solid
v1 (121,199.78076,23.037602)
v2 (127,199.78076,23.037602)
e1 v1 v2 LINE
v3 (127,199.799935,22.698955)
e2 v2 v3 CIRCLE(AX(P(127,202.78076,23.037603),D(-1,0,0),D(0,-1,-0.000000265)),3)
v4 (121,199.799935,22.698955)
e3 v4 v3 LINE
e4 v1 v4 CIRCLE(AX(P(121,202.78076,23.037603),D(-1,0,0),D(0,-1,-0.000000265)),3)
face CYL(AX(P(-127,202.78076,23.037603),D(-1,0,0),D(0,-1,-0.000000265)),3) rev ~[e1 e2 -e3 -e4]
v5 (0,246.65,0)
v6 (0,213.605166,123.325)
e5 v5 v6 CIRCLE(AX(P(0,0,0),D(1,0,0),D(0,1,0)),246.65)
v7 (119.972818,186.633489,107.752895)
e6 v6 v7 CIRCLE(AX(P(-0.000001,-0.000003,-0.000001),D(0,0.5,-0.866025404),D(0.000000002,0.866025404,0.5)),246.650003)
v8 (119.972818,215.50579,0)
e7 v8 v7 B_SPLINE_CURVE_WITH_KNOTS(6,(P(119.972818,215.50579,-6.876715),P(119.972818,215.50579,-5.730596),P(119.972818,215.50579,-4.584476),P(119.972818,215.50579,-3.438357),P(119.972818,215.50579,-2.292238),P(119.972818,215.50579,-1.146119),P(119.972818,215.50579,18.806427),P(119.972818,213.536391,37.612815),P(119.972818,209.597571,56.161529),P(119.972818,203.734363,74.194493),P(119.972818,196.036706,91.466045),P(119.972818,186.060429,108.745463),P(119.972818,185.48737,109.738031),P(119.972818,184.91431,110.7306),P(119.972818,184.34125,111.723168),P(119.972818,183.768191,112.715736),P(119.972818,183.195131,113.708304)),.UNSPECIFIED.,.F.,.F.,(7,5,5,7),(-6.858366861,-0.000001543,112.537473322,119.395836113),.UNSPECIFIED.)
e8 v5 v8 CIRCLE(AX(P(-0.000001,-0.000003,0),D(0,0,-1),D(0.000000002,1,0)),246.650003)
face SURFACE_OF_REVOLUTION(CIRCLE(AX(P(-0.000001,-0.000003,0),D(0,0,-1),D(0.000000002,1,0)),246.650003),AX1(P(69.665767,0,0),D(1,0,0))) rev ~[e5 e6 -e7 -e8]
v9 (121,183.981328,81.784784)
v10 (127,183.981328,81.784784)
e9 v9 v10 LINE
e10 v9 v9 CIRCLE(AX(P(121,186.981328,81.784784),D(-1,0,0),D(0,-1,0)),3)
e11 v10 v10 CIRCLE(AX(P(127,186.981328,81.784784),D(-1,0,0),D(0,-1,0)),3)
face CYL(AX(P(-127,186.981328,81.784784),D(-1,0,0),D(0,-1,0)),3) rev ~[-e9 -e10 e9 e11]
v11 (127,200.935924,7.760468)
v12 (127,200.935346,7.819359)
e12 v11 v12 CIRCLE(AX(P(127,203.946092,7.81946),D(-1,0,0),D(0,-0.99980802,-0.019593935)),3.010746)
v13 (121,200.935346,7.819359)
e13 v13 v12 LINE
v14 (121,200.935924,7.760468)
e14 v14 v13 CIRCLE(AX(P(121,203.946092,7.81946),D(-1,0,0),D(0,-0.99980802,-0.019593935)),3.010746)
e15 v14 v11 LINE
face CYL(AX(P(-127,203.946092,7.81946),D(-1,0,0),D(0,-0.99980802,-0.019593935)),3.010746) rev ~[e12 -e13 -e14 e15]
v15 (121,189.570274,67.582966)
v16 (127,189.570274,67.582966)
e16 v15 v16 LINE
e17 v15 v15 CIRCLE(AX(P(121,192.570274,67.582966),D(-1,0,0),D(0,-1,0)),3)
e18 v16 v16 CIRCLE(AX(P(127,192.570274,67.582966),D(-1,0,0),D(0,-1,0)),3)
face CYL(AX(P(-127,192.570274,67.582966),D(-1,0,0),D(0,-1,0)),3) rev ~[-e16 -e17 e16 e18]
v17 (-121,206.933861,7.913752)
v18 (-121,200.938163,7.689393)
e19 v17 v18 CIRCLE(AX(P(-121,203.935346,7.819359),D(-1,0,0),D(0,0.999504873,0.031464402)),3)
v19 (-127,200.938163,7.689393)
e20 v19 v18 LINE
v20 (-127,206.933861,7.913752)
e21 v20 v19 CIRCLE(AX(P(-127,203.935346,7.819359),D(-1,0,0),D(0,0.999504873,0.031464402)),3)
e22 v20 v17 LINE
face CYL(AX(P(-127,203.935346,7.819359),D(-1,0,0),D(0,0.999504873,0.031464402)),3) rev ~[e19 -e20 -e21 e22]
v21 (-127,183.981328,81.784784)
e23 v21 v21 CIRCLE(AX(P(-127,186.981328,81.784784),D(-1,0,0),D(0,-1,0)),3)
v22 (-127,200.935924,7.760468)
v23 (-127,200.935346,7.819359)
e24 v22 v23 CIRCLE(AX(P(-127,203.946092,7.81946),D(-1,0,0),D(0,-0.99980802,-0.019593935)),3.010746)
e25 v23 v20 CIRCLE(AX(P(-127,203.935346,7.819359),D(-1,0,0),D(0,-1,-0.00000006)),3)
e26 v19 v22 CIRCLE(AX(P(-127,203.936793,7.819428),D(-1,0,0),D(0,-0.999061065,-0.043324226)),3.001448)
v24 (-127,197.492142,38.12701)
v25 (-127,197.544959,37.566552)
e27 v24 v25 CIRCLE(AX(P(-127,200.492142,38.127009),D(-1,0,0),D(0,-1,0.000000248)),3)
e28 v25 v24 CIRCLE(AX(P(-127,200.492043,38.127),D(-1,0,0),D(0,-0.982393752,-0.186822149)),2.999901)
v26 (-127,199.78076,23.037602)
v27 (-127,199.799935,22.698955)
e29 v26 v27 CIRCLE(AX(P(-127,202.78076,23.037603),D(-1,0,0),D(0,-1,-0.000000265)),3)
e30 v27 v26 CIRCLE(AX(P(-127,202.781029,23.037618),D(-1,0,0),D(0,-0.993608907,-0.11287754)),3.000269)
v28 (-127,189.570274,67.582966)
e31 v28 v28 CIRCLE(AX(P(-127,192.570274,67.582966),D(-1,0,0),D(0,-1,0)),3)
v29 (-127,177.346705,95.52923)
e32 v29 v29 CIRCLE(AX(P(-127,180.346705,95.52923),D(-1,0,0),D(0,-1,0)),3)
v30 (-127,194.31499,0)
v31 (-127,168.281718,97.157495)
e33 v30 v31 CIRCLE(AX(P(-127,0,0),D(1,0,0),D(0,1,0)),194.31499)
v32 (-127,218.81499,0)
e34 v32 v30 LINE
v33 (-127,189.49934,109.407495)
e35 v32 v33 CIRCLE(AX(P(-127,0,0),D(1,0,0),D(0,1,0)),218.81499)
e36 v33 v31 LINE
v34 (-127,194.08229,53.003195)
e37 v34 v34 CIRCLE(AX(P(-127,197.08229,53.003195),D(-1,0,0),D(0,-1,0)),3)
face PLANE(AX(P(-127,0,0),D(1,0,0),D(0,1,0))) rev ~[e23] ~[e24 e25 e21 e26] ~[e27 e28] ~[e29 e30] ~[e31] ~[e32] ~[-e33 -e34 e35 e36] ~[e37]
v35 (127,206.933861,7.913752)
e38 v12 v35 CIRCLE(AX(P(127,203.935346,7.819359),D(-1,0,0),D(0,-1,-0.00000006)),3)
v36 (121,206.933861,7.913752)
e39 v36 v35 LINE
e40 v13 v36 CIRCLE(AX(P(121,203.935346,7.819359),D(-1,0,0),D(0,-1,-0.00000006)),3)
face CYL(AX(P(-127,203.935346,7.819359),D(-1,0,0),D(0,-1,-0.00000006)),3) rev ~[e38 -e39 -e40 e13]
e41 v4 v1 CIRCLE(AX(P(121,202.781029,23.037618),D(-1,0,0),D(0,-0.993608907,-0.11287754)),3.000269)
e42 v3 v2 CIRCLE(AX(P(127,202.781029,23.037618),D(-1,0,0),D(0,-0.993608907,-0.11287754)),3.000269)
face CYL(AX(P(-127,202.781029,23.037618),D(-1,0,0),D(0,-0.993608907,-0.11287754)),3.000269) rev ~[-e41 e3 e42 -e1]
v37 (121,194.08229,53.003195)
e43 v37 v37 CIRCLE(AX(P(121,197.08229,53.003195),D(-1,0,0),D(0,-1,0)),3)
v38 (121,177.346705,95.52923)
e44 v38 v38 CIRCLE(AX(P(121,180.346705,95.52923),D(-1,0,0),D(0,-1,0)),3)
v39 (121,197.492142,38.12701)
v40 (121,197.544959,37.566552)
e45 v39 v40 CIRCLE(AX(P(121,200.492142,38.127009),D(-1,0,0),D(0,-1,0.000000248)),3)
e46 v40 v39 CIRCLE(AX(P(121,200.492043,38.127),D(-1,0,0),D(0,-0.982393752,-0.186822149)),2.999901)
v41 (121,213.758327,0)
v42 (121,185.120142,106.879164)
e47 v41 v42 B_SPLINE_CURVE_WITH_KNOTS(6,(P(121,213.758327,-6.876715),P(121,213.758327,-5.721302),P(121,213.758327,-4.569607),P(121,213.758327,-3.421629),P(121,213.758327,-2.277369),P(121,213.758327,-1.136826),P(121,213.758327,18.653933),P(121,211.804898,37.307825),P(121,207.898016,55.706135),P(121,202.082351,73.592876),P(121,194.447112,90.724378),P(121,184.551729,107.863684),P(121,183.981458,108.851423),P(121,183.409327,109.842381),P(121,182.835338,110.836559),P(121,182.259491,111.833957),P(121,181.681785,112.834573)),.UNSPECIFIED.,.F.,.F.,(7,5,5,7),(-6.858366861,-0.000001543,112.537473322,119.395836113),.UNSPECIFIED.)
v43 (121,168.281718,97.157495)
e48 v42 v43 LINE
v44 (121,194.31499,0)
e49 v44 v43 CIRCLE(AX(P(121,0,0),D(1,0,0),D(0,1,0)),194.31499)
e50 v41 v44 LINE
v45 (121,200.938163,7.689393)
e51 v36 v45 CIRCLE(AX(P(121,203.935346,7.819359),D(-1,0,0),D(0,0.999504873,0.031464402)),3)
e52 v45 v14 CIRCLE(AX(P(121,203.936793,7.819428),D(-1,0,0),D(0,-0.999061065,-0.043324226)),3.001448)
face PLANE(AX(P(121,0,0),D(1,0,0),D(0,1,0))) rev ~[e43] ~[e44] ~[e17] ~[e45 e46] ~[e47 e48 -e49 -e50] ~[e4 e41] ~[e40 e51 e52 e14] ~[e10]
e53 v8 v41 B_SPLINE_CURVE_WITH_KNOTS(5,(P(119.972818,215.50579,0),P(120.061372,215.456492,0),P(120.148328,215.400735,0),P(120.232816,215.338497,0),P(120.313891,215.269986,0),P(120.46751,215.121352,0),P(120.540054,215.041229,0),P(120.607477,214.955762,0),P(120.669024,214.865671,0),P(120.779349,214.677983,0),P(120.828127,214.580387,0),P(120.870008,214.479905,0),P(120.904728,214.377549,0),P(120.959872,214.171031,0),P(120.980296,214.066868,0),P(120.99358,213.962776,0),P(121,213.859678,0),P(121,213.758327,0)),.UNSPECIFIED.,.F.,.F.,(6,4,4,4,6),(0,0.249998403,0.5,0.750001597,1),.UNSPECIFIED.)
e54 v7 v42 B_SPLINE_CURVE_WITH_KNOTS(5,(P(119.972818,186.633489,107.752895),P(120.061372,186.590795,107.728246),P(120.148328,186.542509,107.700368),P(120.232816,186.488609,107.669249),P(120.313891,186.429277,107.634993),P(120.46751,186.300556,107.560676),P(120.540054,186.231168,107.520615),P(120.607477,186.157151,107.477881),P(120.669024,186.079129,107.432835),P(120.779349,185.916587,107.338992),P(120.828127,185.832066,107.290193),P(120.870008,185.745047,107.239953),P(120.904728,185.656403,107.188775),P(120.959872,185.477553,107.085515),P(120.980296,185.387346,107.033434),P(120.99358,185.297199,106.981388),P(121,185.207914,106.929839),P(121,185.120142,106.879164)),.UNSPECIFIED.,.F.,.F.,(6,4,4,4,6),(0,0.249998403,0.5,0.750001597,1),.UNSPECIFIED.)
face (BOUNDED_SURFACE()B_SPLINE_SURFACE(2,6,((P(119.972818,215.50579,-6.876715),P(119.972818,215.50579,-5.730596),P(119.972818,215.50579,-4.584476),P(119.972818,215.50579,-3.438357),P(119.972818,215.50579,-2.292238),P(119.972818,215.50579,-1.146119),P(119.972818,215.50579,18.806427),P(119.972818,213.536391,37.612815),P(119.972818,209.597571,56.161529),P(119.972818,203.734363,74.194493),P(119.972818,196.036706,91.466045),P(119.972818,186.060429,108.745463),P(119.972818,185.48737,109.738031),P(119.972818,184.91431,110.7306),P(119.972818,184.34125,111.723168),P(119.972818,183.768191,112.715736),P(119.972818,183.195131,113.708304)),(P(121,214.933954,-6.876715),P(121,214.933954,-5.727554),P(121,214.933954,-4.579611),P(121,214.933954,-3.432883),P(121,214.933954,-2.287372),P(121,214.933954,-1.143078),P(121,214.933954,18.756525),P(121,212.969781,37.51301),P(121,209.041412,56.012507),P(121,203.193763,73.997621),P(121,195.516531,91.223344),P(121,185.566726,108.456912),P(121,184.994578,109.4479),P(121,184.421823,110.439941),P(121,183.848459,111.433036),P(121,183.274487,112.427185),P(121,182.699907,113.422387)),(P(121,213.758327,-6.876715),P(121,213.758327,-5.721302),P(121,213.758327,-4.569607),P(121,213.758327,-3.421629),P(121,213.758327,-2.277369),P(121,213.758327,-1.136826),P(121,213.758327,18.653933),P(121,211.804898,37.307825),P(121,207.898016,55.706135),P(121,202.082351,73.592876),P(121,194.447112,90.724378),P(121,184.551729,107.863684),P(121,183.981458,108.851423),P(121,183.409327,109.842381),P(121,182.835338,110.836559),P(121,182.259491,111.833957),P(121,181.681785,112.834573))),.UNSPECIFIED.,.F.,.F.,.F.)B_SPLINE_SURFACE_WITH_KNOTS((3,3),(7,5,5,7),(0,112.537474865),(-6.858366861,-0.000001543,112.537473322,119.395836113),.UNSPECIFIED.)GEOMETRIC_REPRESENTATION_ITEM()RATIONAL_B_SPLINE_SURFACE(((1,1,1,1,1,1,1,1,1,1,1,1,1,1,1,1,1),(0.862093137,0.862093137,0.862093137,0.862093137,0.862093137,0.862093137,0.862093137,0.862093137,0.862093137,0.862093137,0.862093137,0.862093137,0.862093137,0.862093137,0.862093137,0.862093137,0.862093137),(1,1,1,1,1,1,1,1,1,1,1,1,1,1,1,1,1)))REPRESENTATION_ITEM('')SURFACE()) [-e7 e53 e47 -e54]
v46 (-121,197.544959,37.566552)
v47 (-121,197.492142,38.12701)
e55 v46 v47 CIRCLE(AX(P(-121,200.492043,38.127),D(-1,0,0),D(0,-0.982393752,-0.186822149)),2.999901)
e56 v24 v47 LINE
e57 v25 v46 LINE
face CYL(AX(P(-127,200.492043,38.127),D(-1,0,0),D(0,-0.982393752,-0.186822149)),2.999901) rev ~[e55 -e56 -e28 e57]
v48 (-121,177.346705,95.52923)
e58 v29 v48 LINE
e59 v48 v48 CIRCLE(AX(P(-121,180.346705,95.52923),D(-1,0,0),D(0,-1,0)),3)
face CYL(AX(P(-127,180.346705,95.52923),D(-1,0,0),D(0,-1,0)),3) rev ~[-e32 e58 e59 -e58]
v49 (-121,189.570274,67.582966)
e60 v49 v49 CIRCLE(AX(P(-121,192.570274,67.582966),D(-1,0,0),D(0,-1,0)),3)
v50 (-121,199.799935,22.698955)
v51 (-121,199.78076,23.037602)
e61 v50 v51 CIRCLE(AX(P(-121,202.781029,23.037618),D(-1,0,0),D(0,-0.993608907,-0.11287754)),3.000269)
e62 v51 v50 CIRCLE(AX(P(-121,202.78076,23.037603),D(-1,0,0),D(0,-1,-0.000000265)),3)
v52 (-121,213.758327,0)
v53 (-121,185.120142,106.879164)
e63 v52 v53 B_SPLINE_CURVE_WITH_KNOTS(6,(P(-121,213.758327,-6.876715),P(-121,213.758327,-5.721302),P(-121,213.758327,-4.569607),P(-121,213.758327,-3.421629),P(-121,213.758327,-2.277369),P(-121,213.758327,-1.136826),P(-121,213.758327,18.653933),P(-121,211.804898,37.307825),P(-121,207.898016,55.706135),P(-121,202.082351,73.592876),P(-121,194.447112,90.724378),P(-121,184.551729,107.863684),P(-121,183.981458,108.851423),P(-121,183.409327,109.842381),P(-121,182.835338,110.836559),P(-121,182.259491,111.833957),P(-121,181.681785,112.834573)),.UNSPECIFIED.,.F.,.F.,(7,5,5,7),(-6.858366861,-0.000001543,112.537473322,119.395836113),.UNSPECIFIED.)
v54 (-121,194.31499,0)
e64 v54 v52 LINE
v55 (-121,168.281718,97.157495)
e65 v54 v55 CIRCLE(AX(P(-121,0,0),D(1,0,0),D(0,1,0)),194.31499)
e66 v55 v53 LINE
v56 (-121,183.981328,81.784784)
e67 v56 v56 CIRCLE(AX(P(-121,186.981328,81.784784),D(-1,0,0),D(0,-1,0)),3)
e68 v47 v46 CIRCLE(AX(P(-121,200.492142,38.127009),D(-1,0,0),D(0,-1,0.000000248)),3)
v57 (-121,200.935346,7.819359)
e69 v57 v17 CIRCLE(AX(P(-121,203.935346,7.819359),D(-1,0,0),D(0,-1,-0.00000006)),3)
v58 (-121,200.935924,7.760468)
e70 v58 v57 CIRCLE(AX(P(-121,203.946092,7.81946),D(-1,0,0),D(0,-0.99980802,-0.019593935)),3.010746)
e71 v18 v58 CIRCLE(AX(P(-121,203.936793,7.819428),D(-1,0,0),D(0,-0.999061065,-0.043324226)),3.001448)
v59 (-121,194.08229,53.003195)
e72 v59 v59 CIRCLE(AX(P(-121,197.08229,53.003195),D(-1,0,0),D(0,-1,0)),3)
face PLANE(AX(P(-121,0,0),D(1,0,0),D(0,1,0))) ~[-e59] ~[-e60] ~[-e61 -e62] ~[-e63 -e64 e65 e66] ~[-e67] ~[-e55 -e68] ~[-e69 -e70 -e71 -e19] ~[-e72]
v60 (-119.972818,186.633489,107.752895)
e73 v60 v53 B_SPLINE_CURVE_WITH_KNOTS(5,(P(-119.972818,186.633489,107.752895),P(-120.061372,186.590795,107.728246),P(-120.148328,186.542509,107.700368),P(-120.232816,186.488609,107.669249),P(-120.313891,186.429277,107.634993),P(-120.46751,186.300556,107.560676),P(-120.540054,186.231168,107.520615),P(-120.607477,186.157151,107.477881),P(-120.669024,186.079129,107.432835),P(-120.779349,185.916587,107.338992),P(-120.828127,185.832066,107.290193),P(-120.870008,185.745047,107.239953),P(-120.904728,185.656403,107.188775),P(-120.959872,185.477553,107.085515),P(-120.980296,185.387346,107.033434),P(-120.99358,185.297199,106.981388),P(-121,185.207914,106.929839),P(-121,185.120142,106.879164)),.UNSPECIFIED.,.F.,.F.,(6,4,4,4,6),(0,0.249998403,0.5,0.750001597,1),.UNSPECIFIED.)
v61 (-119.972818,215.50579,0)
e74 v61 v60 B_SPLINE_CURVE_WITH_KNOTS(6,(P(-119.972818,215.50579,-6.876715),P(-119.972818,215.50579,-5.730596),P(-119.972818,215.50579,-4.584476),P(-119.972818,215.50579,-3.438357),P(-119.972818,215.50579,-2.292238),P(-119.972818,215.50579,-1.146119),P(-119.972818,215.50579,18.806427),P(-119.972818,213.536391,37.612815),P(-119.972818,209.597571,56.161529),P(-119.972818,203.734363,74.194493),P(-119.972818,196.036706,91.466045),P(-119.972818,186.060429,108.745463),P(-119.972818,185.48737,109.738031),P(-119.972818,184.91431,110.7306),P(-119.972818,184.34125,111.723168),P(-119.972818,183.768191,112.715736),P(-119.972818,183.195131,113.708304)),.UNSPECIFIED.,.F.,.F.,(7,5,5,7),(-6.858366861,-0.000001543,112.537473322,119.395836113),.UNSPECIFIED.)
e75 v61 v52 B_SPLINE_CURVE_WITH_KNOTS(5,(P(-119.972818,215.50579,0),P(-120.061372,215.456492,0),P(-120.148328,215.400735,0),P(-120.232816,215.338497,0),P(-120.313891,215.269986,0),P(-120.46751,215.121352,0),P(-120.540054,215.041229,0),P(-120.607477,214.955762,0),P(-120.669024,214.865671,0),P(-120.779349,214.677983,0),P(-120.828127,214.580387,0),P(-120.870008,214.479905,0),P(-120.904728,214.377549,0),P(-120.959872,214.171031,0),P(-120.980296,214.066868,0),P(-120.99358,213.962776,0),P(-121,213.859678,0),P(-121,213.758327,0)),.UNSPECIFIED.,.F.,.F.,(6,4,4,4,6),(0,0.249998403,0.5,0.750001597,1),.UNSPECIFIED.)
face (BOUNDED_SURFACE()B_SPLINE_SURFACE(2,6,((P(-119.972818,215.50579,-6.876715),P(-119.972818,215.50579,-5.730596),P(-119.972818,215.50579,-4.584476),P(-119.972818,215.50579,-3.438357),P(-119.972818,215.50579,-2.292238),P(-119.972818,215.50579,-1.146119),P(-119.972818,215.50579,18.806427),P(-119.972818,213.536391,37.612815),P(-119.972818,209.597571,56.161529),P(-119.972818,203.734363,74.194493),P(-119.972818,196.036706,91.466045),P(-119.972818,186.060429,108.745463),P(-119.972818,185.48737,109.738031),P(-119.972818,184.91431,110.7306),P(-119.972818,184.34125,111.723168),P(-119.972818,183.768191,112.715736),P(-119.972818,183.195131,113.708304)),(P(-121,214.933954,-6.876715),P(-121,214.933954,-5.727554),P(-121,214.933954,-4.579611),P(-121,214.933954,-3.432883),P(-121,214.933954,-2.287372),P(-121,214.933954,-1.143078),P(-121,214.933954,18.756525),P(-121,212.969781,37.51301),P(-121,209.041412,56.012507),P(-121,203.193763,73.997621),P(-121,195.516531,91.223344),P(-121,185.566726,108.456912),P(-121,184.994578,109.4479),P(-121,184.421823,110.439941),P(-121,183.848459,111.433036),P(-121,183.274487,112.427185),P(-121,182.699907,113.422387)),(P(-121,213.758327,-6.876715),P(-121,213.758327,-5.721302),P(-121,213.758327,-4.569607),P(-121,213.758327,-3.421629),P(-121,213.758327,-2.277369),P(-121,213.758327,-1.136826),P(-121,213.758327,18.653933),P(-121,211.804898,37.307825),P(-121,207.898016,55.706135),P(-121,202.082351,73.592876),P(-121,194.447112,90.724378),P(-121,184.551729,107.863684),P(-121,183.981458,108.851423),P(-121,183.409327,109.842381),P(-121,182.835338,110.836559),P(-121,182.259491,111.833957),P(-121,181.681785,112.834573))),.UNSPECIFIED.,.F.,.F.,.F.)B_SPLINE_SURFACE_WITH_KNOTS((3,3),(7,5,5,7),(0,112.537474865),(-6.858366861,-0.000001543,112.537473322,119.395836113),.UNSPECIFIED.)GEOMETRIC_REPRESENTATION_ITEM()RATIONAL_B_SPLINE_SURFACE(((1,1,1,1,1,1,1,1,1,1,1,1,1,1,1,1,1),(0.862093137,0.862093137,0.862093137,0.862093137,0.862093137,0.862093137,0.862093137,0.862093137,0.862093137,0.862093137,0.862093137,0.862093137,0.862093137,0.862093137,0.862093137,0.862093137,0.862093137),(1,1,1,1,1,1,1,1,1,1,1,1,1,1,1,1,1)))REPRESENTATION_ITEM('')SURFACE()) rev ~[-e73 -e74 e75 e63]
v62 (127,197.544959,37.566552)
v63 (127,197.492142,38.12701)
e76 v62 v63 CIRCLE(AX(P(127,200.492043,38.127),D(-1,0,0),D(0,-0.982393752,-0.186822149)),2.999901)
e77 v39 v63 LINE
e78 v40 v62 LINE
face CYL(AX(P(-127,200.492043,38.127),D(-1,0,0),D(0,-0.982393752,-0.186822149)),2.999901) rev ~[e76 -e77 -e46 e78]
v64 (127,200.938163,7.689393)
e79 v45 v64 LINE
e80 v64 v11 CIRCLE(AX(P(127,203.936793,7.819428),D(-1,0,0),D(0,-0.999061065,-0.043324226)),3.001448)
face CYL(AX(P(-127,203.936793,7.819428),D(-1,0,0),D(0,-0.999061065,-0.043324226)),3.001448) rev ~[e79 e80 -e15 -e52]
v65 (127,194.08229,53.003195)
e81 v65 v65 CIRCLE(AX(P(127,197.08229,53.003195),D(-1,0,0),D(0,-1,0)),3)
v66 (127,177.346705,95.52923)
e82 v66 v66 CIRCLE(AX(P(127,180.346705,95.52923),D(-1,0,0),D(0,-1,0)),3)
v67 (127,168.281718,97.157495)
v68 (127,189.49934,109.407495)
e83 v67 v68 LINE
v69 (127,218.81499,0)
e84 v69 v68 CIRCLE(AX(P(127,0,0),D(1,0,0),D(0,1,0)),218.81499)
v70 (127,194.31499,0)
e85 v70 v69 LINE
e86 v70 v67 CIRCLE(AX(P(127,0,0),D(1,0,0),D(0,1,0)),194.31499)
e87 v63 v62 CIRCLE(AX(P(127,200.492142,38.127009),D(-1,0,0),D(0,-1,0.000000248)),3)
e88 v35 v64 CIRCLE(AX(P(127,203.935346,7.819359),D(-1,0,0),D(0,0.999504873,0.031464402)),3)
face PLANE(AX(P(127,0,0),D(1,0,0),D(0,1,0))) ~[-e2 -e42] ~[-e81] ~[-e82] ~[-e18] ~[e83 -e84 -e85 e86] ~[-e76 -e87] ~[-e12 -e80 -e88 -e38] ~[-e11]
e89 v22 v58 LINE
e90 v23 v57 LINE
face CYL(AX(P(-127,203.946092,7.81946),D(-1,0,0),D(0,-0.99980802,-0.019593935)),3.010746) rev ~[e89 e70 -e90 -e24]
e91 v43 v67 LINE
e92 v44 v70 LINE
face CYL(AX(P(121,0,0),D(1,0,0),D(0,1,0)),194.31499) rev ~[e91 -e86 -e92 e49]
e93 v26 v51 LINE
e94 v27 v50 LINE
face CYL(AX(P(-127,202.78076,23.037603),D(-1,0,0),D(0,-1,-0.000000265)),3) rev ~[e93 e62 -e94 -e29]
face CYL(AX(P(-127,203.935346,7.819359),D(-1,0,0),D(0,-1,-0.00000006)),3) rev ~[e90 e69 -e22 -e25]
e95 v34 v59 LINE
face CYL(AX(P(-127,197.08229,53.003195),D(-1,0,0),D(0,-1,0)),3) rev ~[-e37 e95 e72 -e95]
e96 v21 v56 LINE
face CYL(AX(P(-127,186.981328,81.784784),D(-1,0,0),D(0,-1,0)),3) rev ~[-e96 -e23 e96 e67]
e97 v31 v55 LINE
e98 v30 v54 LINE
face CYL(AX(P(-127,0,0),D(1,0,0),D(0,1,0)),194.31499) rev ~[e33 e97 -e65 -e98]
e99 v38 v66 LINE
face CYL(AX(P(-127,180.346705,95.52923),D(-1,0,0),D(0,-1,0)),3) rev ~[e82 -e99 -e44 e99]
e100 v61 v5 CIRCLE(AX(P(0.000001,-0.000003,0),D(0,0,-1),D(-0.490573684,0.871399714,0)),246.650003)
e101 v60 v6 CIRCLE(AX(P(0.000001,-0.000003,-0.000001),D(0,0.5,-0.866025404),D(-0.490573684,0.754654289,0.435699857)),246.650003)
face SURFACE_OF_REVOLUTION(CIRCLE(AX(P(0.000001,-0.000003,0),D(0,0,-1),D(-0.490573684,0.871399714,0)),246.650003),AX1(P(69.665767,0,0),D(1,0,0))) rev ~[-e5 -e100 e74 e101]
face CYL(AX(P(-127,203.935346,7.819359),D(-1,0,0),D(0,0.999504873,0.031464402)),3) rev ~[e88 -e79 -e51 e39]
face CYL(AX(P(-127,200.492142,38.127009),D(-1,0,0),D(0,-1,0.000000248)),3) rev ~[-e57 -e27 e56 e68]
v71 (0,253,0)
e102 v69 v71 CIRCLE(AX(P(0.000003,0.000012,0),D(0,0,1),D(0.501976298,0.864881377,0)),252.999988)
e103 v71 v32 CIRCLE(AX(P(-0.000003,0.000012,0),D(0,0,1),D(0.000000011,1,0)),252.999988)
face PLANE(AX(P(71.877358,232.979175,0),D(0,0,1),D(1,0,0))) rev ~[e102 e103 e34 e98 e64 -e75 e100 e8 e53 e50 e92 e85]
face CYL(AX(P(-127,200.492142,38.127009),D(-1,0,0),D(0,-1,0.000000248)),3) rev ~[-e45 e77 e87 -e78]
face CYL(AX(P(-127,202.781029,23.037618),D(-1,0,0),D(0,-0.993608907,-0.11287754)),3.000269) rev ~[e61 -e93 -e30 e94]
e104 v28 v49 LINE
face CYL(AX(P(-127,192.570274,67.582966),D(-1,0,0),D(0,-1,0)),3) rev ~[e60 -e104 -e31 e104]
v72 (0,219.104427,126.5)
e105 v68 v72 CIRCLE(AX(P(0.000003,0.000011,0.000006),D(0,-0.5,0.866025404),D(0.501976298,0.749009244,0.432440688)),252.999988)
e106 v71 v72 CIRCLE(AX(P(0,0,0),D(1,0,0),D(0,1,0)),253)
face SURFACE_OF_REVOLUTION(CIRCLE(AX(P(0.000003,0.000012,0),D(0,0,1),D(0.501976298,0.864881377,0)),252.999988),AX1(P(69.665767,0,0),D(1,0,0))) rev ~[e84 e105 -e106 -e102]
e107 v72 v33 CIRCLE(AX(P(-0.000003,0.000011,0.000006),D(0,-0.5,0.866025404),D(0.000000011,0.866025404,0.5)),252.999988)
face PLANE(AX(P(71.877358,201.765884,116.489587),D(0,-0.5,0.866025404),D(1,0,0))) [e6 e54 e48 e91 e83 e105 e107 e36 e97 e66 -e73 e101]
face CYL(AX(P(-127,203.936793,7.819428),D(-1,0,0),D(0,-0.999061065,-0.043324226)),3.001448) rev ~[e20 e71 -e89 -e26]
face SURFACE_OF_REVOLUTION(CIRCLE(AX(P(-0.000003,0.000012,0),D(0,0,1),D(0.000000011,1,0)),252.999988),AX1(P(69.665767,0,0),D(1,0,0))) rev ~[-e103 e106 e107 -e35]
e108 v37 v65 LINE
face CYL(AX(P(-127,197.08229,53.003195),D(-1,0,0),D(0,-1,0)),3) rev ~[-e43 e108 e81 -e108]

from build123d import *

# Parameters (mm, degrees)
F1_ANGLE = 30
F2_R     = 2
F3_R     = 2
F4_R     = 3
F5_DEPTH = 254.001


with BuildPart() as f1:
    # F0 (on Top) → F1 (revolve)
    with BuildSketch(Plane.XY):
        with BuildLine():
            Line((127, 194.31499), (127, 218.81499))
            ThreePointArc((127, 218.81499), (65.760199, 244.304311), (0, 253))
            Line((0, 253), (0, 246.65))
            ThreePointArc((0, 246.65), (62.544207, 238.588442), (121, 214.930739))
            Line((121, 214.930739), (121, 194.31499))
            Line((121, 194.31499), (127, 194.31499))
        make_face()
        with BuildLine():
            Line((0, 246.65), (0, 253))
            ThreePointArc((0, 253), (-65.760199, 244.304311), (-127, 218.81499))
            Line((-127, 218.81499), (-127, 194.31499))
            Line((-127, 194.31499), (-121, 194.31499))
            Line((-121, 194.31499), (-121, 214.930739))
            ThreePointArc((-121, 214.930739), (-62.544207, 238.588442), (0, 246.65))
        make_face()
    revolve(axis=Axis((69.665767, 0, 0), (1, 0, 0)), revolution_arc=F1_ANGLE)

    # F2
    f2_edges = [f1.edges().sort_by_distance(p)[0] for p in [
        (121, 207.607152, 55.628169),
    ]]
    fillet(f2_edges, radius=F2_R)

    # F3
    f3_edges = [f1.edges().sort_by_distance(p)[0] for p in [
        (-121, 207.607152, 55.628169),
    ]]
    fillet(f3_edges, radius=F3_R)

    # F4 (on face) → F5 (cut, through all)
    with BuildSketch(Plane(origin=(-127, 0, 0), x_dir=(0, -1, 0), z_dir=(-1, 0, 0))):
        with BuildLine():
            ThreePointArc((-199.78076, 23.037602), (-205.775963, 23.207197), (-199.799935, 22.698955))
            ThreePointArc((-199.799935, 22.698955), (-199.785558, 22.868008), (-199.78076, 23.037602))
        make_face()
        with BuildLine():
            ThreePointArc((-197.492142, 38.12701), (-203.478908, 38.40848), (-197.544959, 37.566552))
            ThreePointArc((-197.544959, 37.566552), (-197.505375, 37.845539), (-197.492142, 38.12701))
        make_face()
        with BuildLine():
            ThreePointArc((-200.938163, 7.689393), (-200.936833, 7.724924), (-200.935924, 7.760468))
            ThreePointArc((-200.935924, 7.760468), (-200.935491, 7.789912), (-200.935346, 7.819359))
            ThreePointArc((-200.935346, 7.819359), (-203.888144, 10.818988), (-206.933861, 7.913752))
            Line((-206.933861, 7.913752), (-200.938163, 7.689393))
        make_face()
        with BuildLine():
            ThreePointArc((-206.933861, 7.913752), (-204.047527, 4.821457), (-200.938163, 7.689393))
            Line((-200.938163, 7.689393), (-206.933861, 7.913752))
        make_face()
        with Locations((-203.949443, -7.442613)):
            Circle(F4_R)
        with Locations((-202.822972, -22.662963)):
            Circle(F4_R)
        with Locations((-200.562232, -37.756572)):
            Circle(F4_R)
        with Locations((-197.179868, -52.639032)):
            Circle(F4_R)
        with Locations((-192.694793, -67.227112)):
            Circle(F4_R)
        with Locations((-187.132091, -81.439231)):
            Circle(F4_R)
        with Locations((-180.52287, -95.195909)):
            Circle(F4_R)
        with Locations((-172.904092, -108.420213)):
            Circle(F4_R)
        with Locations((-164.318365, -121.038187)):
            Circle(F4_R)
        with Locations((-154.813702, -132.979267)):
            Circle(F4_R)
        with Locations((-144.443259, -144.176672)):
            Circle(F4_R)
        with Locations((-133.26503, -154.567783)):
            Circle(F4_R)
        with Locations((-121.341529, -164.094489)):
            Circle(F4_R)
        with Locations((-108.739437, -172.703511)):
            Circle(F4_R)
        with Locations((-95.52923, -180.346705)):
            Circle(F4_R)
        with Locations((-81.784784, -186.981328)):
            Circle(F4_R)
        with Locations((-67.582966, -192.570274)):
            Circle(F4_R)
        with Locations((-53.003195, -197.08229)):
            Circle(F4_R)
        with Locations((-38.12701, -200.492142)):
            Circle(F4_R)
        with Locations((-23.037602, -202.78076)):
            Circle(F4_R)
        with Locations((-7.819359, -203.935346)):
            Circle(F4_R)
        with Locations((7.442613, -203.949443)):
            Circle(F4_R)
        with Locations((22.662963, -202.822972)):
            Circle(F4_R)
        with Locations((37.756572, -200.562232)):
            Circle(F4_R)
        with Locations((52.639032, -197.179868)):
            Circle(F4_R)
        with Locations((67.227112, -192.694793)):
            Circle(F4_R)
        with Locations((81.439231, -187.132091)):
            Circle(F4_R)
        with Locations((95.195909, -180.52287)):
            Circle(F4_R)
        with Locations((108.420213, -172.904092)):
            Circle(F4_R)
        with Locations((121.038187, -164.318365)):
            Circle(F4_R)
        with Locations((132.979267, -154.813702)):
            Circle(F4_R)
        with Locations((144.176672, -144.443259)):
            Circle(F4_R)
        with Locations((154.567783, -133.26503)):
            Circle(F4_R)
        with Locations((164.094489, -121.341529)):
            Circle(F4_R)
        with Locations((172.703511, -108.739437)):
            Circle(F4_R)
        with Locations((180.346705, -95.52923)):
            Circle(F4_R)
        with Locations((186.981328, -81.784784)):
            Circle(F4_R)
        with Locations((192.570274, -67.582966)):
            Circle(F4_R)
        with Locations((197.08229, -53.003195)):
            Circle(F4_R)
        with Locations((200.492142, -38.12701)):
            Circle(F4_R)
        with Locations((202.78076, -23.037602)):
            Circle(F4_R)
        with Locations((203.935346, -7.819359)):
            Circle(F4_R)
        with Locations((203.949443, 7.442613)):
            Circle(F4_R)
        with Locations((202.822972, 22.662963)):
            Circle(F4_R)
        with Locations((200.562232, 37.756572)):
            Circle(F4_R)
        with Locations((197.179868, 52.639032)):
            Circle(F4_R)
        with Locations((192.694793, 67.227112)):
            Circle(F4_R)
        with Locations((187.132091, 81.439231)):
            Circle(F4_R)
        with Locations((180.52287, 95.195909)):
            Circle(F4_R)
        with Locations((172.904092, 108.420213)):
            Circle(F4_R)
        with Locations((164.318365, 121.038187)):
            Circle(F4_R)
        with Locations((154.813702, 132.979267)):
            Circle(F4_R)
        with Locations((144.443259, 144.176672)):
            Circle(F4_R)
        with Locations((133.26503, 154.567783)):
            Circle(F4_R)
        with Locations((121.341529, 164.094489)):
            Circle(F4_R)
        with Locations((108.739437, 172.703511)):
            Circle(F4_R)
        with Locations((95.52923, 180.346705)):
            Circle(F4_R)
        with Locations((81.784784, 186.981328)):
            Circle(F4_R)
        with Locations((67.582966, 192.570274)):
            Circle(F4_R)
        with Locations((53.003195, 197.08229)):
            Circle(F4_R)
        with Locations((38.12701, 200.492142)):
            Circle(F4_R)
        with Locations((23.037602, 202.78076)):
            Circle(F4_R)
        with Locations((7.819359, 203.935346)):
            Circle(F4_R)
        with Locations((-7.442613, 203.949443)):
            Circle(F4_R)
        with Locations((-22.662963, 202.822972)):
            Circle(F4_R)
        with Locations((-37.756572, 200.562232)):
            Circle(F4_R)
        with Locations((-52.639032, 197.179868)):
            Circle(F4_R)
        with Locations((-67.227112, 192.694793)):
            Circle(F4_R)
        with Locations((-81.439231, 187.132091)):
            Circle(F4_R)
        with Locations((-95.195909, 180.52287)):
            Circle(F4_R)
        with Locations((-108.420213, 172.904092)):
            Circle(F4_R)
        with Locations((-121.038187, 164.318365)):
            Circle(F4_R)
        with Locations((-132.979267, 154.813702)):
            Circle(F4_R)
        with Locations((-144.176672, 144.443259)):
            Circle(F4_R)
        with Locations((-154.567783, 133.26503)):
            Circle(F4_R)
        with Locations((-164.094489, 121.341529)):
            Circle(F4_R)
        with Locations((-172.703511, 108.739437)):
            Circle(F4_R)
        with Locations((-180.346705, 95.52923)):
            Circle(F4_R)
        with Locations((-186.981328, 81.784784)):
            Circle(F4_R)
        with Locations((-192.570274, 67.582966)):
            Circle(F4_R)
        with Locations((-197.08229, 53.003195)):
            Circle(F4_R)
    extrude(amount=-F5_DEPTH, mode=Mode.SUBTRACT)


solid = f1.part
